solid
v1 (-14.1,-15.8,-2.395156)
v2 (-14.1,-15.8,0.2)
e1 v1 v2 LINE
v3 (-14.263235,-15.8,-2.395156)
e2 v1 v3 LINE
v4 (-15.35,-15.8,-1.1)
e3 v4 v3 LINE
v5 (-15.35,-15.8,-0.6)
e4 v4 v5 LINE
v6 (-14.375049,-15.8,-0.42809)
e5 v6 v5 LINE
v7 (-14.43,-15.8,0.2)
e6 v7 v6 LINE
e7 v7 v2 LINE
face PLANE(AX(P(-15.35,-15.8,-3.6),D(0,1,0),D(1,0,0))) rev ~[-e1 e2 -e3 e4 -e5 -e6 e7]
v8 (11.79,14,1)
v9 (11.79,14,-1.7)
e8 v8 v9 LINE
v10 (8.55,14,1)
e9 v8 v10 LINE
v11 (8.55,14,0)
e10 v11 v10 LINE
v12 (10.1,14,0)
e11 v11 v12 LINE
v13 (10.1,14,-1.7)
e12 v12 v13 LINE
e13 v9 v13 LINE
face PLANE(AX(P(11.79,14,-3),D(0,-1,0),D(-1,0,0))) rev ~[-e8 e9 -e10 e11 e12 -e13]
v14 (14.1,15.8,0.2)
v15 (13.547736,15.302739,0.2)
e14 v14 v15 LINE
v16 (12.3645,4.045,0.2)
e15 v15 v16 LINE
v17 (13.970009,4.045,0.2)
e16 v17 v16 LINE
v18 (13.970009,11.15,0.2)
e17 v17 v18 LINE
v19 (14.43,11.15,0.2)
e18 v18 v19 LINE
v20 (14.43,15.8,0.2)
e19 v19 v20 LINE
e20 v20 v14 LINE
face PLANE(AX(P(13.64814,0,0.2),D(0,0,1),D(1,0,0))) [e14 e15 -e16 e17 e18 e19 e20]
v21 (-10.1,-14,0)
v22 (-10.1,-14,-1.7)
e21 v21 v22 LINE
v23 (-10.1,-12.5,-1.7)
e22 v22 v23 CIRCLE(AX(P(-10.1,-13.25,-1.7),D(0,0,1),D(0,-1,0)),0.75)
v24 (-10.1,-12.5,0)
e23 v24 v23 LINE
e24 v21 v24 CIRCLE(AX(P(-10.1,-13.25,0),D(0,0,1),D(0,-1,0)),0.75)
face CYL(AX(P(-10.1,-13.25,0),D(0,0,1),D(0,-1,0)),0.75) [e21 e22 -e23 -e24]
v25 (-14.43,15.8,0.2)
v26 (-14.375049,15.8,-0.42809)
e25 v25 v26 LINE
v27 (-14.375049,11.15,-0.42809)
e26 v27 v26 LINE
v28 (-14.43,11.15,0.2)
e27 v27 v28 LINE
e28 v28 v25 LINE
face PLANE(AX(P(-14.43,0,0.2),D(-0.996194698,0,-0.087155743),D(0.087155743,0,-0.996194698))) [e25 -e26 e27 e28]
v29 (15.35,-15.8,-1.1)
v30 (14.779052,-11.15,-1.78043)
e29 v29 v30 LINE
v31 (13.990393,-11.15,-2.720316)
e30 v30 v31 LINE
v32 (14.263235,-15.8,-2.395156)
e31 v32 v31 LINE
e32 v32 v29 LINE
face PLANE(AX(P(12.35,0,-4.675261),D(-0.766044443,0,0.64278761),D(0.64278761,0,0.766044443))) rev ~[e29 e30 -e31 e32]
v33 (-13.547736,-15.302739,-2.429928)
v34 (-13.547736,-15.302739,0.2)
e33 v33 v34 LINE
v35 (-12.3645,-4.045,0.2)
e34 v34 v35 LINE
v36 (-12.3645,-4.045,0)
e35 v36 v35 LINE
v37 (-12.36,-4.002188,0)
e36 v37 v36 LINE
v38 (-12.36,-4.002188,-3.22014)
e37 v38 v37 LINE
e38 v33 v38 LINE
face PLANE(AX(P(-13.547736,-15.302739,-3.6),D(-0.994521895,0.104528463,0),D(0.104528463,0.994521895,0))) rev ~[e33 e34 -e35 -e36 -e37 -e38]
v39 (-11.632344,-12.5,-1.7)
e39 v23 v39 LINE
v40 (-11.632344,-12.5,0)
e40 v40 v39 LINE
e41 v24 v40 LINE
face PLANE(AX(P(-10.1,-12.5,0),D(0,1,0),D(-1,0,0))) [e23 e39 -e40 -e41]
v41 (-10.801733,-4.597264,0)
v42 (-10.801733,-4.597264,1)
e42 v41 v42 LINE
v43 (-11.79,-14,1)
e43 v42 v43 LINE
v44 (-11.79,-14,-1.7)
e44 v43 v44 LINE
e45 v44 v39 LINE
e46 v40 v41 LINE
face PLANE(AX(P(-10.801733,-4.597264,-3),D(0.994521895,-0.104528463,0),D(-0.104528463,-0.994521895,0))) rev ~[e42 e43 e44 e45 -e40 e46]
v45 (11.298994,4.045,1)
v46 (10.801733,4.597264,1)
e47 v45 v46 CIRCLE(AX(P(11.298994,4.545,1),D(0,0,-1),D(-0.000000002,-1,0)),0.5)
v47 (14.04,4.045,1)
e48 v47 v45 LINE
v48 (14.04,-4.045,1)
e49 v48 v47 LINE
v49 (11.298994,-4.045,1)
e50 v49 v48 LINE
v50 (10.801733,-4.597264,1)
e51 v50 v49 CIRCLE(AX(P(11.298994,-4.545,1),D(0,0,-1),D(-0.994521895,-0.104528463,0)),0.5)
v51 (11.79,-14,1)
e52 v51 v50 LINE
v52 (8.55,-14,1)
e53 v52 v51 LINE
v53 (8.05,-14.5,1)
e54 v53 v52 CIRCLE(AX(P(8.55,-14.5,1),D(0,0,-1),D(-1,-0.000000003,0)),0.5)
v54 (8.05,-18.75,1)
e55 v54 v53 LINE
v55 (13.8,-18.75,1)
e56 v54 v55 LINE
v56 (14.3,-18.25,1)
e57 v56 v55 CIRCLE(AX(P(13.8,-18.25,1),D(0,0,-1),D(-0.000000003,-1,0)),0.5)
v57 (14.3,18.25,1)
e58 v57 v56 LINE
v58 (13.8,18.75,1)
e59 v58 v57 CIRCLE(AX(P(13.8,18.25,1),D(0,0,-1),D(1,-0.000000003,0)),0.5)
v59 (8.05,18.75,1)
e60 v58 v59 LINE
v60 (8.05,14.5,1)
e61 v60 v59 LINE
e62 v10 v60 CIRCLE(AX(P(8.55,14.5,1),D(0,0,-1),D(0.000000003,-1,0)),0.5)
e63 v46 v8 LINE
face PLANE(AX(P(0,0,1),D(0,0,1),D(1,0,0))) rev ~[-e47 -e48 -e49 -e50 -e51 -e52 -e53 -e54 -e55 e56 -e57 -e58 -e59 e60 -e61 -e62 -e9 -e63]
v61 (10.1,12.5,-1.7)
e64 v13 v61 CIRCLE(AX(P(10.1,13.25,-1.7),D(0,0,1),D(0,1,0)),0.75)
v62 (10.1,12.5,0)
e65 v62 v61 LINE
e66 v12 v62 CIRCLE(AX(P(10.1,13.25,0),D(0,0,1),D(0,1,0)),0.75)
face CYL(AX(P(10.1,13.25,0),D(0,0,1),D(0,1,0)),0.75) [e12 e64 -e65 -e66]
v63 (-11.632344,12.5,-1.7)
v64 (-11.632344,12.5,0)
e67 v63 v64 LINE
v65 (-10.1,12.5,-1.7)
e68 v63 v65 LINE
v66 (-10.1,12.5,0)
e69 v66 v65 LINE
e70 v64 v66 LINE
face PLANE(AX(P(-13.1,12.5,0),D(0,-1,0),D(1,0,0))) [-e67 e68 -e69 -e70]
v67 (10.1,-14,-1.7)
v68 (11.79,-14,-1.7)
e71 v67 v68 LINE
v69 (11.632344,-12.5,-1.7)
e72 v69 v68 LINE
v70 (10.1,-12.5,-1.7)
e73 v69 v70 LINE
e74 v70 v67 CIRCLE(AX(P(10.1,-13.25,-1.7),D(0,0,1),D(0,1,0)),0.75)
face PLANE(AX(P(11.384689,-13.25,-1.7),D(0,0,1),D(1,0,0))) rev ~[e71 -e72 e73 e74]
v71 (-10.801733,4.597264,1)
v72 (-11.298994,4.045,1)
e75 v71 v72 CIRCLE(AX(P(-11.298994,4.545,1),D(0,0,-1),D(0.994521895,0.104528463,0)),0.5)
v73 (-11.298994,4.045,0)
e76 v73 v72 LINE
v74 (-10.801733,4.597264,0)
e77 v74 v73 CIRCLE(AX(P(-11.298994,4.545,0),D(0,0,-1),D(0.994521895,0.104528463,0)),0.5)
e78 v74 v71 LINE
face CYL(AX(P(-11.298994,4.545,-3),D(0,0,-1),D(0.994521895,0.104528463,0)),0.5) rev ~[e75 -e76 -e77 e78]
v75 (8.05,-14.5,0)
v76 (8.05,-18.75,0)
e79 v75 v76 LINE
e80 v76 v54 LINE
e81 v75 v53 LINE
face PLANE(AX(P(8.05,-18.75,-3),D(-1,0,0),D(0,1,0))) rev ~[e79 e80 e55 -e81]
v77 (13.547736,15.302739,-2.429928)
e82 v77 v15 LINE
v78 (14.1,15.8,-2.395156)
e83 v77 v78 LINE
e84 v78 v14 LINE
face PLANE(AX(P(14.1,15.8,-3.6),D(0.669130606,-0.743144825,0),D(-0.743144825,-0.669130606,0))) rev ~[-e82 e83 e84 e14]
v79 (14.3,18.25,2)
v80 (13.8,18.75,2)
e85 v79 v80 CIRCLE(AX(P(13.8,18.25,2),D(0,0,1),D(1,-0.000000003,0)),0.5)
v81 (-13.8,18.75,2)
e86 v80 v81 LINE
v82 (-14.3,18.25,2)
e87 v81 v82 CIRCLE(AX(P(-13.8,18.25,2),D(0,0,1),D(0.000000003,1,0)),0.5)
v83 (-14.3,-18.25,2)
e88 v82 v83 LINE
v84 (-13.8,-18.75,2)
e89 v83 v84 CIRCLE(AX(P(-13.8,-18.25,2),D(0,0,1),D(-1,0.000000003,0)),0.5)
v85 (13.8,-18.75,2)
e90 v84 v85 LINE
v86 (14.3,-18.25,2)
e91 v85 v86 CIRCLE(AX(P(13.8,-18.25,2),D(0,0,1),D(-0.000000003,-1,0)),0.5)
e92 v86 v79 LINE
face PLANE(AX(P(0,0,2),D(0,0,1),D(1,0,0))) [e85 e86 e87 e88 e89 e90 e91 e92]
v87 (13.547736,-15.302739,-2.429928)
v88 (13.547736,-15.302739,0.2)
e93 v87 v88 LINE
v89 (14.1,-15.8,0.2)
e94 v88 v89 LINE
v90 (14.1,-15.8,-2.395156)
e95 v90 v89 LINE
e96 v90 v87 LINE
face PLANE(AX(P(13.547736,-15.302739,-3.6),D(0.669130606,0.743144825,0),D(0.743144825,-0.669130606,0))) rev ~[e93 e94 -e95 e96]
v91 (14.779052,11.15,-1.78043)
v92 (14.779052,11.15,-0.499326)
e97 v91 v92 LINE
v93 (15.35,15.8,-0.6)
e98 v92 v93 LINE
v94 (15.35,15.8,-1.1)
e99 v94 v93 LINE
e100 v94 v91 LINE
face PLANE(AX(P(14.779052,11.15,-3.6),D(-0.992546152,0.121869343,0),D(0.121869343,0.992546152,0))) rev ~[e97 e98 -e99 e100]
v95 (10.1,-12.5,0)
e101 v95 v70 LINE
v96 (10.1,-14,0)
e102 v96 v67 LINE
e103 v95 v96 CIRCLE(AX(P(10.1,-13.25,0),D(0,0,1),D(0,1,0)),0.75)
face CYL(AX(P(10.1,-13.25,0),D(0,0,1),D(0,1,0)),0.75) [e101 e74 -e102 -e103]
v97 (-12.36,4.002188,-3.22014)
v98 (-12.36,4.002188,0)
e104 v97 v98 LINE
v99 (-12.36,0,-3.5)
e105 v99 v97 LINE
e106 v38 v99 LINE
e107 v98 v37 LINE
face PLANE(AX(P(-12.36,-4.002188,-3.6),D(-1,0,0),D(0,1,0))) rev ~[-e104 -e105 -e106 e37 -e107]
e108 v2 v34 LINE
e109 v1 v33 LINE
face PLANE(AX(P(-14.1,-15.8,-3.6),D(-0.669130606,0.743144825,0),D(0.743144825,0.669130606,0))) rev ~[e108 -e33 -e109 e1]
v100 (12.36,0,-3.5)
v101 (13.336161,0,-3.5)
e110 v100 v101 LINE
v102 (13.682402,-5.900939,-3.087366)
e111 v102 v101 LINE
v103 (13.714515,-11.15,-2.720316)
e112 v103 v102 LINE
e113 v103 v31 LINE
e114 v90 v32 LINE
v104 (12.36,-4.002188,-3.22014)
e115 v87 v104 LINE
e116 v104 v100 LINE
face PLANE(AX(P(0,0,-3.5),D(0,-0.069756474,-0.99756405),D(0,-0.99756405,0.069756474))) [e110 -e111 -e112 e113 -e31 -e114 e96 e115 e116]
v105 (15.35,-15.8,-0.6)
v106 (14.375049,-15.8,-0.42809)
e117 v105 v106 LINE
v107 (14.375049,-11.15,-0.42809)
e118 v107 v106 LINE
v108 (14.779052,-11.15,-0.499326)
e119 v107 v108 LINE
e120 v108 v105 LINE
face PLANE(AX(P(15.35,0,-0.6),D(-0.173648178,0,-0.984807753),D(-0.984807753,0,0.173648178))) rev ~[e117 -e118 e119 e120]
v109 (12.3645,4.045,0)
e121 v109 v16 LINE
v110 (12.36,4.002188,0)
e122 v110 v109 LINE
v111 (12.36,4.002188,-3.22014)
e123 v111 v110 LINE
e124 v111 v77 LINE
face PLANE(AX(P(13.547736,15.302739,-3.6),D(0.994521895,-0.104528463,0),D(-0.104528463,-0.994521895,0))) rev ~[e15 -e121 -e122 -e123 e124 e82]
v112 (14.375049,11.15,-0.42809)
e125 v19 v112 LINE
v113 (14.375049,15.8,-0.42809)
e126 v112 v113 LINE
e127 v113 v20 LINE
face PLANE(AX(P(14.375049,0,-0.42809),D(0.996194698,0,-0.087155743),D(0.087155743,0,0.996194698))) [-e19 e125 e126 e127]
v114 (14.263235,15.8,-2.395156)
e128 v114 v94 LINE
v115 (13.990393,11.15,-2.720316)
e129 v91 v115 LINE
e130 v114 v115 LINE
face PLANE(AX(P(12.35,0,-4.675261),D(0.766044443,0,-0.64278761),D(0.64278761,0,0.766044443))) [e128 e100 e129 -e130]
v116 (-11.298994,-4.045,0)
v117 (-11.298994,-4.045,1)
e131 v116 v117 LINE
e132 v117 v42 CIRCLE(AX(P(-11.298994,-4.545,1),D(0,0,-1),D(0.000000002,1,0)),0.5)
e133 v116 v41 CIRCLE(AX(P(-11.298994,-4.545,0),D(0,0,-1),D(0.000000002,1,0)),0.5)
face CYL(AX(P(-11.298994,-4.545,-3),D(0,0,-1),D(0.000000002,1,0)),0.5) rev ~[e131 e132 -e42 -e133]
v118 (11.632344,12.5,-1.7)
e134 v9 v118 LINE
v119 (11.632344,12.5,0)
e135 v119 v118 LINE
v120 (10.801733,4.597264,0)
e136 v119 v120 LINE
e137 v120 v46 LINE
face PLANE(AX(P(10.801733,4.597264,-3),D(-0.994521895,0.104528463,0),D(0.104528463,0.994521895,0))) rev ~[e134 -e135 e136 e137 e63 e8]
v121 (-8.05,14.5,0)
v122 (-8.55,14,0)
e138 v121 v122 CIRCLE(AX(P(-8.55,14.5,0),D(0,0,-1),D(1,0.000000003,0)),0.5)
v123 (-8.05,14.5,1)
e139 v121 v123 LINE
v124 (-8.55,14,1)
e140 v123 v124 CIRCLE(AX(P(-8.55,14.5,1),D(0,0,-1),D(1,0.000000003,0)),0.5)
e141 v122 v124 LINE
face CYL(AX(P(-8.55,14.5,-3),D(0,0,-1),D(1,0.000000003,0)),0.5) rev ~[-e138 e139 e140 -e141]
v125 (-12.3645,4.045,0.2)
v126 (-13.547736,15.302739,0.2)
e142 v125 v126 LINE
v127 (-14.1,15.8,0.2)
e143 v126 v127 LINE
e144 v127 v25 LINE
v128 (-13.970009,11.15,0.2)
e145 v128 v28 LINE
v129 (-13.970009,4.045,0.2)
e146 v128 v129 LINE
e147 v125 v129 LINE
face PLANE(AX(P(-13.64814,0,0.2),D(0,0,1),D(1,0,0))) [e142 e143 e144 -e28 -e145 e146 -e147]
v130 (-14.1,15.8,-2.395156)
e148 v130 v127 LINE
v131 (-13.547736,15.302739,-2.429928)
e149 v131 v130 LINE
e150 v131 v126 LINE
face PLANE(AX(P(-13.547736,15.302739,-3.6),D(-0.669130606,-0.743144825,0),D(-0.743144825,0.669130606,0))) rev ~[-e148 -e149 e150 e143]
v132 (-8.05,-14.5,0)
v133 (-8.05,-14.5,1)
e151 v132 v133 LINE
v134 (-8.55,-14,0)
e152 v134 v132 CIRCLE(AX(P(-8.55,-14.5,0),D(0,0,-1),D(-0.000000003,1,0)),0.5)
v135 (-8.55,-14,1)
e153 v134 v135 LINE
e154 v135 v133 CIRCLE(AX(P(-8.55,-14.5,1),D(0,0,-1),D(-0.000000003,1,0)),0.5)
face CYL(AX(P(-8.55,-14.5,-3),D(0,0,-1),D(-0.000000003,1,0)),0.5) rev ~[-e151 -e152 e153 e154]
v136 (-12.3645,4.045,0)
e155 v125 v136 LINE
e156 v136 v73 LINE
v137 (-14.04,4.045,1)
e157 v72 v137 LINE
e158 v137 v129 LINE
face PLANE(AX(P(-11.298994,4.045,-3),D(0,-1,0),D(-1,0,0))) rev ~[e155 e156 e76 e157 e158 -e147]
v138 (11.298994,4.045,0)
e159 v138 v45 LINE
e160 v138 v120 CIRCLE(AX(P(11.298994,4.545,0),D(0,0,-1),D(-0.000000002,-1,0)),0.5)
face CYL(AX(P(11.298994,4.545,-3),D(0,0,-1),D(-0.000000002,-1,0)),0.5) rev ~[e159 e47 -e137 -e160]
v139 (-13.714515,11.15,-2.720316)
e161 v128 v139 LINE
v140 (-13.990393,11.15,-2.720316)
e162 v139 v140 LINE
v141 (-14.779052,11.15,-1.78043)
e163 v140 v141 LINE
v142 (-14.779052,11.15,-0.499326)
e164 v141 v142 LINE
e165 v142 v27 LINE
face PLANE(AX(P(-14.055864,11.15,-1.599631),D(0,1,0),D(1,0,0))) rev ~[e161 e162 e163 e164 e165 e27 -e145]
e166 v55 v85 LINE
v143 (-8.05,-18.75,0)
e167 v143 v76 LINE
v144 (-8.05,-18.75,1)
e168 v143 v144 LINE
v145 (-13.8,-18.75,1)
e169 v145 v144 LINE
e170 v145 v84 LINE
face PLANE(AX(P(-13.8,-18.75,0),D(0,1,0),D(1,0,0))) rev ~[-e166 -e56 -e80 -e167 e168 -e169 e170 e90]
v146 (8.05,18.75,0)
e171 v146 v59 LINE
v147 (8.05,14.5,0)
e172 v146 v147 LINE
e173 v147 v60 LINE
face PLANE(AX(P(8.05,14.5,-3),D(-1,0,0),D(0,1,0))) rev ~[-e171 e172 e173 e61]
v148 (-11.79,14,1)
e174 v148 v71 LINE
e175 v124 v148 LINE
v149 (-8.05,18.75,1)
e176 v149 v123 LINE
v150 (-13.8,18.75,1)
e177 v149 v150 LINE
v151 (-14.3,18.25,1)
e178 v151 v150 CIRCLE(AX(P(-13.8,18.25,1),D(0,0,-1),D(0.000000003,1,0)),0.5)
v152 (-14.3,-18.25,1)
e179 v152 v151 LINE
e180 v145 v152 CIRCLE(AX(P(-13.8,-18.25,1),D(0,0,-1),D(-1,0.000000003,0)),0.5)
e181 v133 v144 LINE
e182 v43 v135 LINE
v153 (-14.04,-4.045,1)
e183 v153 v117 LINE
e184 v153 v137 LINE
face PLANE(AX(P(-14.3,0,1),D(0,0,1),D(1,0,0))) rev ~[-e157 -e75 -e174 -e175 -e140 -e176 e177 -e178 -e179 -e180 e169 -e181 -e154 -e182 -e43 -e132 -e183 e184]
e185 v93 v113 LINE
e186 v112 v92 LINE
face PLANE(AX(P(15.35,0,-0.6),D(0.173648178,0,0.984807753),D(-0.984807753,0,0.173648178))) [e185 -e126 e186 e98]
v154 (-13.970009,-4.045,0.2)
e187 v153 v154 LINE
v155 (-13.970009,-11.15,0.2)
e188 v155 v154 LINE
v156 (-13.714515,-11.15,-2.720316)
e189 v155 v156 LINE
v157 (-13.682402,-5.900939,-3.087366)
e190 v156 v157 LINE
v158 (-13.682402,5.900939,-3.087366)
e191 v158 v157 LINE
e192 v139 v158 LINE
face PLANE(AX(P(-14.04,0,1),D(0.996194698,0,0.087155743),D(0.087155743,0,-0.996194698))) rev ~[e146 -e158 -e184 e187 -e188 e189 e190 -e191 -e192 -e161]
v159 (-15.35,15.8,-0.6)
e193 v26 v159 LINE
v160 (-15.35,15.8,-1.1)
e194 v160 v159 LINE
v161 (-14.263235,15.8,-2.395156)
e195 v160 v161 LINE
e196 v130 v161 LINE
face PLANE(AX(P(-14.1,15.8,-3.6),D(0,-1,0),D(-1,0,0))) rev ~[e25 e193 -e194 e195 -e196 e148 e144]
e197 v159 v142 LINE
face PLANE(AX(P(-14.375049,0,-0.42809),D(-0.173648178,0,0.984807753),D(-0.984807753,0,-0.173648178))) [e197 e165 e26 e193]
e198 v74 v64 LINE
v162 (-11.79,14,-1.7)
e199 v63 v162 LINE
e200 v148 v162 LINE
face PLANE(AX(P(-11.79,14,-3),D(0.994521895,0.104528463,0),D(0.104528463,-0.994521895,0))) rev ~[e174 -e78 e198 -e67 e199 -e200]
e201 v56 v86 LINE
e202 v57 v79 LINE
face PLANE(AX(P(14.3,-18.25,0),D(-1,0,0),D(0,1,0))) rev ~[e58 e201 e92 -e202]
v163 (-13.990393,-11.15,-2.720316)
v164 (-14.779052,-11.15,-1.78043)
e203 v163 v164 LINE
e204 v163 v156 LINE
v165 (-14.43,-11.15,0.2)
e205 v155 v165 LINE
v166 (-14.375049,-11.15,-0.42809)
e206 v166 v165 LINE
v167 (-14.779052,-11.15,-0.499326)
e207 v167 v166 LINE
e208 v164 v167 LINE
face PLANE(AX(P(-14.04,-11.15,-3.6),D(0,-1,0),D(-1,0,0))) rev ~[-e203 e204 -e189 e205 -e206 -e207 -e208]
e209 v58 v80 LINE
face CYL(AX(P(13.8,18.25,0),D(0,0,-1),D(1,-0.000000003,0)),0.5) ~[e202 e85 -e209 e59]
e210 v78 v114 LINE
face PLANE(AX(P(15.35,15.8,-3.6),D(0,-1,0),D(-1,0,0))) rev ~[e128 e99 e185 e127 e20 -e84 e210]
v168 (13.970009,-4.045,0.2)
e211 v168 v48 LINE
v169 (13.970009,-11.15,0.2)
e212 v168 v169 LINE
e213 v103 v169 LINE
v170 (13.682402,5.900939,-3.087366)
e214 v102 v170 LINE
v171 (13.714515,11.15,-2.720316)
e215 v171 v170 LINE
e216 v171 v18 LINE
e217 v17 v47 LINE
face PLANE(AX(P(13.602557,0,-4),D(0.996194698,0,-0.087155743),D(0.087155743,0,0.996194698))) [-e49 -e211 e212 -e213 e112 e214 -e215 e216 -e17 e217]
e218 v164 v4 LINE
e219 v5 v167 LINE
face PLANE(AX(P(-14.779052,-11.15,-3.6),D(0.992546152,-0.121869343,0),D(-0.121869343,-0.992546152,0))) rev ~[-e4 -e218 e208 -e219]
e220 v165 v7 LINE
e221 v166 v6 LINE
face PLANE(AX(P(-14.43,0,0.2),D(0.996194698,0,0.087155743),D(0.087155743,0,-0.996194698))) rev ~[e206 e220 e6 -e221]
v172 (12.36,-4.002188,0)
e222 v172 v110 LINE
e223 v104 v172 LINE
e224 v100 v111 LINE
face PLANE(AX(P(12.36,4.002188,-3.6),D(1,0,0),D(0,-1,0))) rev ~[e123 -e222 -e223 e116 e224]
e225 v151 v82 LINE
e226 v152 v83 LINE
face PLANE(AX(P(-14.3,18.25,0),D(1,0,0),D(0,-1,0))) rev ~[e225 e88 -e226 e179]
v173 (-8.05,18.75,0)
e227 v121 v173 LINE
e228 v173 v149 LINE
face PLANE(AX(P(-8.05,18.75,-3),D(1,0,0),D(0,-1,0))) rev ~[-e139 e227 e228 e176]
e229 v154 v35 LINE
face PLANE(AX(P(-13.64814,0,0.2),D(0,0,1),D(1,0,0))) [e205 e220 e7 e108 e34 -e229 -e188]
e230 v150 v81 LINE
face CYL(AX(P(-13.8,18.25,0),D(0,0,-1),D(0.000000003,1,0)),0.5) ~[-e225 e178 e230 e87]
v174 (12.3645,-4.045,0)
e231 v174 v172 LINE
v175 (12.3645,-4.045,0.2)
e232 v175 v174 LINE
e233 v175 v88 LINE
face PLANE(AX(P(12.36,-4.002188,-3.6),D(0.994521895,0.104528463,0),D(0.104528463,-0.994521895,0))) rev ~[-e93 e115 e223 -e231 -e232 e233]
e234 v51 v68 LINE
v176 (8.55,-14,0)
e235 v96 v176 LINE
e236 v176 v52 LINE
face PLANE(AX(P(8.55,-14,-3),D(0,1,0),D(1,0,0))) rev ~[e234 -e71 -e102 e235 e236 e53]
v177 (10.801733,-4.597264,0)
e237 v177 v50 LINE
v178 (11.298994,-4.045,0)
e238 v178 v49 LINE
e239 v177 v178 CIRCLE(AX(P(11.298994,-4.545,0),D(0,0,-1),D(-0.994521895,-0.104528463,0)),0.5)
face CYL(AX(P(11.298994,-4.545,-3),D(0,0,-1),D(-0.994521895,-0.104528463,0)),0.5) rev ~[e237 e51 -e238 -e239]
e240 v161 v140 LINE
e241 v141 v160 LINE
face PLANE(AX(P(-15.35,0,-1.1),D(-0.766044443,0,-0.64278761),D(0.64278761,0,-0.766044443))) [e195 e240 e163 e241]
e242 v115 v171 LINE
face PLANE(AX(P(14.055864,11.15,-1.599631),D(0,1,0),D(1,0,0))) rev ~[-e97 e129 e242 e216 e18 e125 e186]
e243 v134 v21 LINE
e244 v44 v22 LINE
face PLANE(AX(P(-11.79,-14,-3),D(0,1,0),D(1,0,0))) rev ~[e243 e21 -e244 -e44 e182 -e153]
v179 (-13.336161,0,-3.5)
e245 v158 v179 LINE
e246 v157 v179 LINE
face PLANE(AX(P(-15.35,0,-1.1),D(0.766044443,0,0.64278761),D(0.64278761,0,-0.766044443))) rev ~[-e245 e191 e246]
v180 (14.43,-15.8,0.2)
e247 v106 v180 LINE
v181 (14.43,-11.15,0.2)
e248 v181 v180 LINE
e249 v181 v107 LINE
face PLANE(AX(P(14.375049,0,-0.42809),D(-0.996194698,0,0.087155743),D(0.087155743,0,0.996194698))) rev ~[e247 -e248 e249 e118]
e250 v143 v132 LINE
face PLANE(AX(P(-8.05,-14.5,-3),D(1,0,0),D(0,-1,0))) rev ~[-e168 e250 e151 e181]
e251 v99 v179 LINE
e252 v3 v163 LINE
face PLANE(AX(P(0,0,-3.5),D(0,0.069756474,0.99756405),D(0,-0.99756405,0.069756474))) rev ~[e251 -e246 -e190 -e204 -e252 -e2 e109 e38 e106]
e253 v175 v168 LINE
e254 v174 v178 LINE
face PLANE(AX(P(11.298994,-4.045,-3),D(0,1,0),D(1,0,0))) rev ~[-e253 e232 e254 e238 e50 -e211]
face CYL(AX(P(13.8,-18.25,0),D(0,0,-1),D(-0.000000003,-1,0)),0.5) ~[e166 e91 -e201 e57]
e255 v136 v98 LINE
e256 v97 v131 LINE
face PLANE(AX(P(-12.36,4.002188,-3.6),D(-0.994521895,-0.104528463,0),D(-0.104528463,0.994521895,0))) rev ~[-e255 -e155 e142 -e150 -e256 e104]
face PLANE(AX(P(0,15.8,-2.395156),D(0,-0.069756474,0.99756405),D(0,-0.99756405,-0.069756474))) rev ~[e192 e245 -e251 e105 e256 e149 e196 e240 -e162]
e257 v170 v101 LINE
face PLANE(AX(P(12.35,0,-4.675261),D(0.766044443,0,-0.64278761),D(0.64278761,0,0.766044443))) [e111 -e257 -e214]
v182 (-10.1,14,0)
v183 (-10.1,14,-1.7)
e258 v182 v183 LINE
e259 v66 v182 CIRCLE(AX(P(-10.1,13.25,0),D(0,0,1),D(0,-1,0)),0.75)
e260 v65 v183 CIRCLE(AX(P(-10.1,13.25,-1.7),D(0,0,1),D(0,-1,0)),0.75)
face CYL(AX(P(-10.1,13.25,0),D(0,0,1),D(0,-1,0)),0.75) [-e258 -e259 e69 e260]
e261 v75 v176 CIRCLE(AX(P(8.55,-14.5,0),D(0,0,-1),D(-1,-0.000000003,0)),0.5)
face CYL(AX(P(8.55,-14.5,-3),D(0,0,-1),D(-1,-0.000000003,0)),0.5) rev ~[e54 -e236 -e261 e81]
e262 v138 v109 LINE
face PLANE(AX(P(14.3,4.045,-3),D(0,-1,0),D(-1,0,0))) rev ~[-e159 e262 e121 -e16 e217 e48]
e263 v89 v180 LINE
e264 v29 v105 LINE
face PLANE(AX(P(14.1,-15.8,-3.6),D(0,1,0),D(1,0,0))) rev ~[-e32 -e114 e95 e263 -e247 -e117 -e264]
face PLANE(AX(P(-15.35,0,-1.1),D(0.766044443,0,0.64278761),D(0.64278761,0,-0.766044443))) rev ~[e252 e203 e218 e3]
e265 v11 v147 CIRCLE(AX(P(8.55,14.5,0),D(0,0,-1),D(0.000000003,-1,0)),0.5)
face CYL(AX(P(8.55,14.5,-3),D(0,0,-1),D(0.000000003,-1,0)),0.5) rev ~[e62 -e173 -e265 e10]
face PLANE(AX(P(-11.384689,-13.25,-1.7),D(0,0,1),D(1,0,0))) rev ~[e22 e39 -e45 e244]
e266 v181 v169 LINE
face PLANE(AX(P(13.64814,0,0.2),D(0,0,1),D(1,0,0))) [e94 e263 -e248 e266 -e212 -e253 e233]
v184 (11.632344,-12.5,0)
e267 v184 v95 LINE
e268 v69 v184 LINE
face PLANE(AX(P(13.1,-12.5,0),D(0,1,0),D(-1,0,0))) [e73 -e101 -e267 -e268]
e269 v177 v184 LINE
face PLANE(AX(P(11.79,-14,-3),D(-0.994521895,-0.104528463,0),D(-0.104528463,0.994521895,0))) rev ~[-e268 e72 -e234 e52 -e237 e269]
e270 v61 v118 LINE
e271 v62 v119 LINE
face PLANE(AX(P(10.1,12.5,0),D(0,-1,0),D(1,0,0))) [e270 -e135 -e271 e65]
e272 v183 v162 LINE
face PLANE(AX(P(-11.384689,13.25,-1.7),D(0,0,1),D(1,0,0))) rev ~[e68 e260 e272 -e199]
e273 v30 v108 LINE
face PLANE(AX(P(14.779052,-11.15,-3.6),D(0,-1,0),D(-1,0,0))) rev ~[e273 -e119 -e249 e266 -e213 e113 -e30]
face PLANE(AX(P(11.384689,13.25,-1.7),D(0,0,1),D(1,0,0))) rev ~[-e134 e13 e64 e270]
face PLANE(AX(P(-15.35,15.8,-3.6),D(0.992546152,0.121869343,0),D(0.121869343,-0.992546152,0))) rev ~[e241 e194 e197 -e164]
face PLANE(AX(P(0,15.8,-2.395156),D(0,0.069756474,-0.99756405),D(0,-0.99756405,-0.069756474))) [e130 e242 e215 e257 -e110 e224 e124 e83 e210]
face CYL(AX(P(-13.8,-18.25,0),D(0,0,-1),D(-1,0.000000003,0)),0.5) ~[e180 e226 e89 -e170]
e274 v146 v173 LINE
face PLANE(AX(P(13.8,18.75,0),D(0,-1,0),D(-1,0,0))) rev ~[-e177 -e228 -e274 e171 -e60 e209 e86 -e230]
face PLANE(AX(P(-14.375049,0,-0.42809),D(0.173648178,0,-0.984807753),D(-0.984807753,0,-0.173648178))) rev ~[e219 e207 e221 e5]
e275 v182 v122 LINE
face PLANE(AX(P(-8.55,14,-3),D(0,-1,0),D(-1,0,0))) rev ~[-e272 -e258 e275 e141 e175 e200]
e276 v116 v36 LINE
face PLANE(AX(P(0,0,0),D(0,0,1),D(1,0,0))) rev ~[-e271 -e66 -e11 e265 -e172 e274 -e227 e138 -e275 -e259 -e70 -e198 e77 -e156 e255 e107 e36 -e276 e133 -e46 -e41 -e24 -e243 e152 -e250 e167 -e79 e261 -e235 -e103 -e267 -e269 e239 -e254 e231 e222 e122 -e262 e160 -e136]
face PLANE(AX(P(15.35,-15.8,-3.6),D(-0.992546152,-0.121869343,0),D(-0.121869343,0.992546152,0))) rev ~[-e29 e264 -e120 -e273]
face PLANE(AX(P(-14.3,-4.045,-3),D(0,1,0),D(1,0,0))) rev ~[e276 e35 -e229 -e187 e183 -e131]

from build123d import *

# Parameters (mm, degrees)
BOSS_EXTRUDE1_DEPTH      = 2
BOSS_EXTRUDE2_DEPTH      = 1.7
BOSS_EXTRUDE2_DEPTH_BACK = 1.7
BOSS_EXTRUDE3_DEPTH      = 1.7
BOSS_EXTRUDE3_DEPTH_BACK = 1.7
BOSS_EXTRUDE4_DEPTH      = 1.7
BOSS_EXTRUDE4_DEPTH_BACK = 1.7
BOSS_EXTRUDE5_DEPTH      = 1.7
BOSS_EXTRUDE5_DEPTH_BACK = 1.7
SKETCH6_W                = 38.6
SKETCH6_H                = 47.5
CUT_EXTRUDE1_DEPTH       = 4
BOSS_EXTRUDE6_DEPTH      = 3.8
BOSS_EXTRUDE7_DEPTH      = 3.8
CUT_EXTRUDE2_DEPTH       = 20
CUT_EXTRUDE2_DEPTH_BACK  = 20
CUT_EXTRUDE3_DEPTH       = 11.15
CUT_EXTRUDE3_DEPTH_BACK  = 11.15
CUT_EXTRUDE4_DEPTH       = 11.15
CUT_EXTRUDE4_DEPTH_BACK  = 11.15
CUT_EXTRUDE5_DEPTH       = 16
CUT_EXTRUDE5_DEPTH_BACK  = 16
CUT_EXTRUDE6_DEPTH       = 16
CUT_EXTRUDE6_DEPTH_BACK  = 16


with BuildPart() as part:
    # Sketch1 → Boss-Extrude1 (new body)
    with BuildSketch(Plane.XY):
        with BuildLine():
            Line((-14.3, 18.25), (-14.3, -18.25))
            ThreePointArc((-14.3, -18.25), (-14.153553391, -18.603553391), (-13.8, -18.75))
            Line((-13.8, -18.75), (13.8, -18.75))
            ThreePointArc((13.8, -18.75), (14.153553391, -18.603553391), (14.3, -18.25))
            Line((14.3, -18.25), (14.3, 18.25))
            ThreePointArc((14.3, 18.25), (14.153553391, 18.603553391), (13.8, 18.75))
            Line((13.8, 18.75), (-13.8, 18.75))
            ThreePointArc((-13.8, 18.75), (-14.153553391, 18.603553391), (-14.3, 18.25))
        make_face()
    extrude(amount=BOSS_EXTRUDE1_DEPTH)

    # Sketch2 → Boss-Extrude2 (add, two sides: drawn at the far end of the back side and taken through both)
    with BuildSketch(Plane.XY.offset(-BOSS_EXTRUDE2_DEPTH_BACK)):
        with BuildLine():
            Line((-13.1, 12.5), (-10.1, 12.5))
            ThreePointArc((-10.1, 12.5), (-9.35, 13.25), (-10.1, 14))
            Line((-10.1, 14), (-13.1, 14))
            Line((-13.1, 14), (-13.1, 12.5))
        make_face()
    extrude(amount=BOSS_EXTRUDE2_DEPTH + BOSS_EXTRUDE2_DEPTH_BACK)

    # Sketch3 → Boss-Extrude3 (add, two sides: drawn at the far end of the back side and taken through both)
    with BuildSketch(Plane.XY.offset(-BOSS_EXTRUDE3_DEPTH_BACK)):
        with BuildLine():
            Line((10.1, -14), (13.1, -14))
            Line((13.1, -14), (13.1, -12.5))
            Line((13.1, -12.5), (10.1, -12.5))
            ThreePointArc((10.1, -12.5), (9.35, -13.25), (10.1, -14))
        make_face()
    extrude(amount=BOSS_EXTRUDE3_DEPTH + BOSS_EXTRUDE3_DEPTH_BACK)

    # Sketch4 → Boss-Extrude4 (add, two sides: drawn at the far end of the back side and taken through both)
    with BuildSketch(Plane.XY.offset(-BOSS_EXTRUDE4_DEPTH_BACK)):
        with BuildLine():
            Line((-13.1, -12.5), (-13.1, -14))
            Line((-13.1, -14), (-10.1, -14))
            ThreePointArc((-10.1, -14), (-9.35, -13.25), (-10.1, -12.5))
            Line((-10.1, -12.5), (-13.1, -12.5))
        make_face()
    extrude(amount=BOSS_EXTRUDE4_DEPTH + BOSS_EXTRUDE4_DEPTH_BACK)

    # Sketch5 → Boss-Extrude5 (add, two sides: drawn at the far end of the back side and taken through both)
    with BuildSketch(Plane.XY.offset(-BOSS_EXTRUDE5_DEPTH_BACK)):
        with BuildLine():
            Line((10.1, 12.5), (13.1, 12.5))
            Line((13.1, 12.5), (13.1, 14))
            Line((13.1, 14), (10.1, 14))
            ThreePointArc((10.1, 14), (9.35, 13.25), (10.1, 12.5))
        make_face()
    extrude(amount=BOSS_EXTRUDE5_DEPTH + BOSS_EXTRUDE5_DEPTH_BACK)

    # Sketch6 → Cut-Extrude1 (cut)
    with BuildSketch(Plane.XY.offset(-3)):
        Rectangle(SKETCH6_W, SKETCH6_H)
        with BuildLine():
            Line((-14.3, -4.045), (-11.298993595, -4.045))
            ThreePointArc((-11.298993595, -4.045), (-10.927421183, -4.210434697), (-10.801732648, -4.597264232))
            Line((-10.801732648, -4.597264232), (-11.79, -14))
            Line((-11.79, -14), (-8.55, -14))
            ThreePointArc((-8.55, -14), (-8.196446609, -14.146446609), (-8.05, -14.5))
            Line((-8.05, -14.5), (-8.05, -18.75))
            Line((-8.05, -18.75), (8.05, -18.75))
            Line((8.05, -18.75), (8.05, -14.5))
            ThreePointArc((8.05, -14.5), (8.196446609, -14.146446609), (8.55, -14))
            Line((8.55, -14), (11.79, -14))
            Line((11.79, -14), (10.801732648, -4.597264232))
            ThreePointArc((10.801732648, -4.597264232), (10.927421183, -4.210434697), (11.298993595, -4.045))
            Line((11.298993595, -4.045), (14.3, -4.045))
            Line((14.3, -4.045), (14.3, 4.045))
            Line((14.3, 4.045), (11.298993595, 4.045))
            ThreePointArc((11.298993595, 4.045), (10.927421183, 4.210434697), (10.801732648, 4.597264232))
            Line((10.801732648, 4.597264232), (11.79, 14))
            Line((11.79, 14), (8.55, 14))
            ThreePointArc((8.55, 14), (8.196446609, 14.146446609), (8.05, 14.5))
            Line((8.05, 14.5), (8.05, 18.75))
            Line((8.05, 18.75), (-8.05, 18.75))
            Line((-8.05, 18.75), (-8.05, 14.5))
            ThreePointArc((-8.05, 14.5), (-8.196446609, 14.146446609), (-8.55, 14))
            Line((-8.55, 14), (-11.79, 14))
            Line((-11.79, 14), (-10.801732648, 4.597264232))
            ThreePointArc((-10.801732648, 4.597264232), (-10.927421183, 4.210434697), (-11.298993595, 4.045))
            Line((-11.298993595, 4.045), (-14.3, 4.045))
            Line((-14.3, 4.045), (-14.3, -4.045))
        make_face(mode=Mode.SUBTRACT)
    extrude(amount=CUT_EXTRUDE1_DEPTH, mode=Mode.SUBTRACT)

    # Sketch7 → Boss-Extrude6 (add)
    with BuildSketch(Plane.XY.offset(-3.6)):
        Polygon((12.36, -4.002188077), (13.547735768, -15.302739052), (14.1, -15.8), (15.35, -15.8), (14.779051792, -11.15), (14.04, -11.15), (14.04, 11.15), (14.779051792, 11.15), (15.35, 15.8), (14.1, 15.8), (13.547735768, 15.302739052), (12.36, 4.002188077), align=None)
    extrude(amount=BOSS_EXTRUDE6_DEPTH)

    # Sketch8 → Boss-Extrude7 (add)
    with BuildSketch(Plane.XY.offset(-3.6)):
        Polygon((-15.35, -15.8), (-14.1, -15.8), (-13.547735768, -15.302739052), (-12.36, -4.002188077), (-12.36, 4.002188077), (-13.547735768, 15.302739052), (-14.1, 15.8), (-15.35, 15.8), (-14.779051792, 11.15), (-14.04, 11.15), (-14.04, -11.15), (-14.779051792, -11.15), align=None)
    extrude(amount=BOSS_EXTRUDE7_DEPTH)

    # Sketch9 → Cut-Extrude2 (cut, two sides: drawn at the far end of the back side and taken through both)
    with BuildSketch(Plane(origin=(0, 0, 0), x_dir=(0, 0, -1), z_dir=(1, 0, 0)).offset(-CUT_EXTRUDE2_DEPTH_BACK)):
        Polygon((2.395156371, -15.8), (8.5, -15.8), (8.5, 15.8), (2.395156371, 15.8), (3.5, 0), align=None)
    extrude(amount=CUT_EXTRUDE2_DEPTH + CUT_EXTRUDE2_DEPTH_BACK, mode=Mode.SUBTRACT)

    # Sketch10 → Cut-Extrude3 (cut, two sides: drawn at the far end of the back side and taken through both)
    with BuildSketch(Plane(origin=(0, 0, 0), x_dir=(1, 0, 0), z_dir=(0, 1, 0)).offset(-CUT_EXTRUDE3_DEPTH_BACK)):
        Polygon((13.602556682, 4), (14.04, -1), (14.3, -1), (14.3, 4), align=None)
    extrude(amount=CUT_EXTRUDE3_DEPTH + CUT_EXTRUDE3_DEPTH_BACK, mode=Mode.SUBTRACT)

    # Sketch11 → Cut-Extrude4 (cut, two sides: drawn at the far end of the back side and taken through both)
    with BuildSketch(Plane(origin=(0, 0, 0), x_dir=(1, 0, 0), z_dir=(0, 1, 0)).offset(-CUT_EXTRUDE4_DEPTH_BACK)):
        Polygon((-14.3, 4), (-14.3, -1), (-14.04, -1), (-13.602556682, 4), align=None)
    extrude(amount=CUT_EXTRUDE4_DEPTH + CUT_EXTRUDE4_DEPTH_BACK, mode=Mode.SUBTRACT)

    # Sketch12 → Cut-Extrude5 (cut, two sides: drawn at the far end of the back side and taken through both)
    with BuildSketch(Plane(origin=(0, 0, 0), x_dir=(1, 0, 0), z_dir=(0, 1, 0)).offset(-CUT_EXTRUDE5_DEPTH_BACK)):
        Polygon((12.35, 4.8), (12.35, 4.675260778), (15.35, 1.1), (15.35, 0.6), (14.375049256, 0.428089879), (14.43, -0.2), (17.35, -0.2), (17.35, 4.8), align=None)
    extrude(amount=CUT_EXTRUDE5_DEPTH + CUT_EXTRUDE5_DEPTH_BACK, mode=Mode.SUBTRACT)

    # Sketch13 → Cut-Extrude6 (cut, two sides: drawn at the far end of the back side and taken through both)
    with BuildSketch(Plane(origin=(0, 0, 0), x_dir=(1, 0, 0), z_dir=(0, 1, 0)).offset(-CUT_EXTRUDE6_DEPTH_BACK)):
        Polygon((-17.35, 4.8), (-17.35, -0.2), (-14.43, -0.2), (-14.375049256, 0.428089879), (-15.35, 0.6), (-15.35, 1.1), (-12.35, 4.675260778), (-12.35, 4.8), align=None)
    extrude(amount=CUT_EXTRUDE6_DEPTH + CUT_EXTRUDE6_DEPTH_BACK, mode=Mode.SUBTRACT)


solid = part.part
